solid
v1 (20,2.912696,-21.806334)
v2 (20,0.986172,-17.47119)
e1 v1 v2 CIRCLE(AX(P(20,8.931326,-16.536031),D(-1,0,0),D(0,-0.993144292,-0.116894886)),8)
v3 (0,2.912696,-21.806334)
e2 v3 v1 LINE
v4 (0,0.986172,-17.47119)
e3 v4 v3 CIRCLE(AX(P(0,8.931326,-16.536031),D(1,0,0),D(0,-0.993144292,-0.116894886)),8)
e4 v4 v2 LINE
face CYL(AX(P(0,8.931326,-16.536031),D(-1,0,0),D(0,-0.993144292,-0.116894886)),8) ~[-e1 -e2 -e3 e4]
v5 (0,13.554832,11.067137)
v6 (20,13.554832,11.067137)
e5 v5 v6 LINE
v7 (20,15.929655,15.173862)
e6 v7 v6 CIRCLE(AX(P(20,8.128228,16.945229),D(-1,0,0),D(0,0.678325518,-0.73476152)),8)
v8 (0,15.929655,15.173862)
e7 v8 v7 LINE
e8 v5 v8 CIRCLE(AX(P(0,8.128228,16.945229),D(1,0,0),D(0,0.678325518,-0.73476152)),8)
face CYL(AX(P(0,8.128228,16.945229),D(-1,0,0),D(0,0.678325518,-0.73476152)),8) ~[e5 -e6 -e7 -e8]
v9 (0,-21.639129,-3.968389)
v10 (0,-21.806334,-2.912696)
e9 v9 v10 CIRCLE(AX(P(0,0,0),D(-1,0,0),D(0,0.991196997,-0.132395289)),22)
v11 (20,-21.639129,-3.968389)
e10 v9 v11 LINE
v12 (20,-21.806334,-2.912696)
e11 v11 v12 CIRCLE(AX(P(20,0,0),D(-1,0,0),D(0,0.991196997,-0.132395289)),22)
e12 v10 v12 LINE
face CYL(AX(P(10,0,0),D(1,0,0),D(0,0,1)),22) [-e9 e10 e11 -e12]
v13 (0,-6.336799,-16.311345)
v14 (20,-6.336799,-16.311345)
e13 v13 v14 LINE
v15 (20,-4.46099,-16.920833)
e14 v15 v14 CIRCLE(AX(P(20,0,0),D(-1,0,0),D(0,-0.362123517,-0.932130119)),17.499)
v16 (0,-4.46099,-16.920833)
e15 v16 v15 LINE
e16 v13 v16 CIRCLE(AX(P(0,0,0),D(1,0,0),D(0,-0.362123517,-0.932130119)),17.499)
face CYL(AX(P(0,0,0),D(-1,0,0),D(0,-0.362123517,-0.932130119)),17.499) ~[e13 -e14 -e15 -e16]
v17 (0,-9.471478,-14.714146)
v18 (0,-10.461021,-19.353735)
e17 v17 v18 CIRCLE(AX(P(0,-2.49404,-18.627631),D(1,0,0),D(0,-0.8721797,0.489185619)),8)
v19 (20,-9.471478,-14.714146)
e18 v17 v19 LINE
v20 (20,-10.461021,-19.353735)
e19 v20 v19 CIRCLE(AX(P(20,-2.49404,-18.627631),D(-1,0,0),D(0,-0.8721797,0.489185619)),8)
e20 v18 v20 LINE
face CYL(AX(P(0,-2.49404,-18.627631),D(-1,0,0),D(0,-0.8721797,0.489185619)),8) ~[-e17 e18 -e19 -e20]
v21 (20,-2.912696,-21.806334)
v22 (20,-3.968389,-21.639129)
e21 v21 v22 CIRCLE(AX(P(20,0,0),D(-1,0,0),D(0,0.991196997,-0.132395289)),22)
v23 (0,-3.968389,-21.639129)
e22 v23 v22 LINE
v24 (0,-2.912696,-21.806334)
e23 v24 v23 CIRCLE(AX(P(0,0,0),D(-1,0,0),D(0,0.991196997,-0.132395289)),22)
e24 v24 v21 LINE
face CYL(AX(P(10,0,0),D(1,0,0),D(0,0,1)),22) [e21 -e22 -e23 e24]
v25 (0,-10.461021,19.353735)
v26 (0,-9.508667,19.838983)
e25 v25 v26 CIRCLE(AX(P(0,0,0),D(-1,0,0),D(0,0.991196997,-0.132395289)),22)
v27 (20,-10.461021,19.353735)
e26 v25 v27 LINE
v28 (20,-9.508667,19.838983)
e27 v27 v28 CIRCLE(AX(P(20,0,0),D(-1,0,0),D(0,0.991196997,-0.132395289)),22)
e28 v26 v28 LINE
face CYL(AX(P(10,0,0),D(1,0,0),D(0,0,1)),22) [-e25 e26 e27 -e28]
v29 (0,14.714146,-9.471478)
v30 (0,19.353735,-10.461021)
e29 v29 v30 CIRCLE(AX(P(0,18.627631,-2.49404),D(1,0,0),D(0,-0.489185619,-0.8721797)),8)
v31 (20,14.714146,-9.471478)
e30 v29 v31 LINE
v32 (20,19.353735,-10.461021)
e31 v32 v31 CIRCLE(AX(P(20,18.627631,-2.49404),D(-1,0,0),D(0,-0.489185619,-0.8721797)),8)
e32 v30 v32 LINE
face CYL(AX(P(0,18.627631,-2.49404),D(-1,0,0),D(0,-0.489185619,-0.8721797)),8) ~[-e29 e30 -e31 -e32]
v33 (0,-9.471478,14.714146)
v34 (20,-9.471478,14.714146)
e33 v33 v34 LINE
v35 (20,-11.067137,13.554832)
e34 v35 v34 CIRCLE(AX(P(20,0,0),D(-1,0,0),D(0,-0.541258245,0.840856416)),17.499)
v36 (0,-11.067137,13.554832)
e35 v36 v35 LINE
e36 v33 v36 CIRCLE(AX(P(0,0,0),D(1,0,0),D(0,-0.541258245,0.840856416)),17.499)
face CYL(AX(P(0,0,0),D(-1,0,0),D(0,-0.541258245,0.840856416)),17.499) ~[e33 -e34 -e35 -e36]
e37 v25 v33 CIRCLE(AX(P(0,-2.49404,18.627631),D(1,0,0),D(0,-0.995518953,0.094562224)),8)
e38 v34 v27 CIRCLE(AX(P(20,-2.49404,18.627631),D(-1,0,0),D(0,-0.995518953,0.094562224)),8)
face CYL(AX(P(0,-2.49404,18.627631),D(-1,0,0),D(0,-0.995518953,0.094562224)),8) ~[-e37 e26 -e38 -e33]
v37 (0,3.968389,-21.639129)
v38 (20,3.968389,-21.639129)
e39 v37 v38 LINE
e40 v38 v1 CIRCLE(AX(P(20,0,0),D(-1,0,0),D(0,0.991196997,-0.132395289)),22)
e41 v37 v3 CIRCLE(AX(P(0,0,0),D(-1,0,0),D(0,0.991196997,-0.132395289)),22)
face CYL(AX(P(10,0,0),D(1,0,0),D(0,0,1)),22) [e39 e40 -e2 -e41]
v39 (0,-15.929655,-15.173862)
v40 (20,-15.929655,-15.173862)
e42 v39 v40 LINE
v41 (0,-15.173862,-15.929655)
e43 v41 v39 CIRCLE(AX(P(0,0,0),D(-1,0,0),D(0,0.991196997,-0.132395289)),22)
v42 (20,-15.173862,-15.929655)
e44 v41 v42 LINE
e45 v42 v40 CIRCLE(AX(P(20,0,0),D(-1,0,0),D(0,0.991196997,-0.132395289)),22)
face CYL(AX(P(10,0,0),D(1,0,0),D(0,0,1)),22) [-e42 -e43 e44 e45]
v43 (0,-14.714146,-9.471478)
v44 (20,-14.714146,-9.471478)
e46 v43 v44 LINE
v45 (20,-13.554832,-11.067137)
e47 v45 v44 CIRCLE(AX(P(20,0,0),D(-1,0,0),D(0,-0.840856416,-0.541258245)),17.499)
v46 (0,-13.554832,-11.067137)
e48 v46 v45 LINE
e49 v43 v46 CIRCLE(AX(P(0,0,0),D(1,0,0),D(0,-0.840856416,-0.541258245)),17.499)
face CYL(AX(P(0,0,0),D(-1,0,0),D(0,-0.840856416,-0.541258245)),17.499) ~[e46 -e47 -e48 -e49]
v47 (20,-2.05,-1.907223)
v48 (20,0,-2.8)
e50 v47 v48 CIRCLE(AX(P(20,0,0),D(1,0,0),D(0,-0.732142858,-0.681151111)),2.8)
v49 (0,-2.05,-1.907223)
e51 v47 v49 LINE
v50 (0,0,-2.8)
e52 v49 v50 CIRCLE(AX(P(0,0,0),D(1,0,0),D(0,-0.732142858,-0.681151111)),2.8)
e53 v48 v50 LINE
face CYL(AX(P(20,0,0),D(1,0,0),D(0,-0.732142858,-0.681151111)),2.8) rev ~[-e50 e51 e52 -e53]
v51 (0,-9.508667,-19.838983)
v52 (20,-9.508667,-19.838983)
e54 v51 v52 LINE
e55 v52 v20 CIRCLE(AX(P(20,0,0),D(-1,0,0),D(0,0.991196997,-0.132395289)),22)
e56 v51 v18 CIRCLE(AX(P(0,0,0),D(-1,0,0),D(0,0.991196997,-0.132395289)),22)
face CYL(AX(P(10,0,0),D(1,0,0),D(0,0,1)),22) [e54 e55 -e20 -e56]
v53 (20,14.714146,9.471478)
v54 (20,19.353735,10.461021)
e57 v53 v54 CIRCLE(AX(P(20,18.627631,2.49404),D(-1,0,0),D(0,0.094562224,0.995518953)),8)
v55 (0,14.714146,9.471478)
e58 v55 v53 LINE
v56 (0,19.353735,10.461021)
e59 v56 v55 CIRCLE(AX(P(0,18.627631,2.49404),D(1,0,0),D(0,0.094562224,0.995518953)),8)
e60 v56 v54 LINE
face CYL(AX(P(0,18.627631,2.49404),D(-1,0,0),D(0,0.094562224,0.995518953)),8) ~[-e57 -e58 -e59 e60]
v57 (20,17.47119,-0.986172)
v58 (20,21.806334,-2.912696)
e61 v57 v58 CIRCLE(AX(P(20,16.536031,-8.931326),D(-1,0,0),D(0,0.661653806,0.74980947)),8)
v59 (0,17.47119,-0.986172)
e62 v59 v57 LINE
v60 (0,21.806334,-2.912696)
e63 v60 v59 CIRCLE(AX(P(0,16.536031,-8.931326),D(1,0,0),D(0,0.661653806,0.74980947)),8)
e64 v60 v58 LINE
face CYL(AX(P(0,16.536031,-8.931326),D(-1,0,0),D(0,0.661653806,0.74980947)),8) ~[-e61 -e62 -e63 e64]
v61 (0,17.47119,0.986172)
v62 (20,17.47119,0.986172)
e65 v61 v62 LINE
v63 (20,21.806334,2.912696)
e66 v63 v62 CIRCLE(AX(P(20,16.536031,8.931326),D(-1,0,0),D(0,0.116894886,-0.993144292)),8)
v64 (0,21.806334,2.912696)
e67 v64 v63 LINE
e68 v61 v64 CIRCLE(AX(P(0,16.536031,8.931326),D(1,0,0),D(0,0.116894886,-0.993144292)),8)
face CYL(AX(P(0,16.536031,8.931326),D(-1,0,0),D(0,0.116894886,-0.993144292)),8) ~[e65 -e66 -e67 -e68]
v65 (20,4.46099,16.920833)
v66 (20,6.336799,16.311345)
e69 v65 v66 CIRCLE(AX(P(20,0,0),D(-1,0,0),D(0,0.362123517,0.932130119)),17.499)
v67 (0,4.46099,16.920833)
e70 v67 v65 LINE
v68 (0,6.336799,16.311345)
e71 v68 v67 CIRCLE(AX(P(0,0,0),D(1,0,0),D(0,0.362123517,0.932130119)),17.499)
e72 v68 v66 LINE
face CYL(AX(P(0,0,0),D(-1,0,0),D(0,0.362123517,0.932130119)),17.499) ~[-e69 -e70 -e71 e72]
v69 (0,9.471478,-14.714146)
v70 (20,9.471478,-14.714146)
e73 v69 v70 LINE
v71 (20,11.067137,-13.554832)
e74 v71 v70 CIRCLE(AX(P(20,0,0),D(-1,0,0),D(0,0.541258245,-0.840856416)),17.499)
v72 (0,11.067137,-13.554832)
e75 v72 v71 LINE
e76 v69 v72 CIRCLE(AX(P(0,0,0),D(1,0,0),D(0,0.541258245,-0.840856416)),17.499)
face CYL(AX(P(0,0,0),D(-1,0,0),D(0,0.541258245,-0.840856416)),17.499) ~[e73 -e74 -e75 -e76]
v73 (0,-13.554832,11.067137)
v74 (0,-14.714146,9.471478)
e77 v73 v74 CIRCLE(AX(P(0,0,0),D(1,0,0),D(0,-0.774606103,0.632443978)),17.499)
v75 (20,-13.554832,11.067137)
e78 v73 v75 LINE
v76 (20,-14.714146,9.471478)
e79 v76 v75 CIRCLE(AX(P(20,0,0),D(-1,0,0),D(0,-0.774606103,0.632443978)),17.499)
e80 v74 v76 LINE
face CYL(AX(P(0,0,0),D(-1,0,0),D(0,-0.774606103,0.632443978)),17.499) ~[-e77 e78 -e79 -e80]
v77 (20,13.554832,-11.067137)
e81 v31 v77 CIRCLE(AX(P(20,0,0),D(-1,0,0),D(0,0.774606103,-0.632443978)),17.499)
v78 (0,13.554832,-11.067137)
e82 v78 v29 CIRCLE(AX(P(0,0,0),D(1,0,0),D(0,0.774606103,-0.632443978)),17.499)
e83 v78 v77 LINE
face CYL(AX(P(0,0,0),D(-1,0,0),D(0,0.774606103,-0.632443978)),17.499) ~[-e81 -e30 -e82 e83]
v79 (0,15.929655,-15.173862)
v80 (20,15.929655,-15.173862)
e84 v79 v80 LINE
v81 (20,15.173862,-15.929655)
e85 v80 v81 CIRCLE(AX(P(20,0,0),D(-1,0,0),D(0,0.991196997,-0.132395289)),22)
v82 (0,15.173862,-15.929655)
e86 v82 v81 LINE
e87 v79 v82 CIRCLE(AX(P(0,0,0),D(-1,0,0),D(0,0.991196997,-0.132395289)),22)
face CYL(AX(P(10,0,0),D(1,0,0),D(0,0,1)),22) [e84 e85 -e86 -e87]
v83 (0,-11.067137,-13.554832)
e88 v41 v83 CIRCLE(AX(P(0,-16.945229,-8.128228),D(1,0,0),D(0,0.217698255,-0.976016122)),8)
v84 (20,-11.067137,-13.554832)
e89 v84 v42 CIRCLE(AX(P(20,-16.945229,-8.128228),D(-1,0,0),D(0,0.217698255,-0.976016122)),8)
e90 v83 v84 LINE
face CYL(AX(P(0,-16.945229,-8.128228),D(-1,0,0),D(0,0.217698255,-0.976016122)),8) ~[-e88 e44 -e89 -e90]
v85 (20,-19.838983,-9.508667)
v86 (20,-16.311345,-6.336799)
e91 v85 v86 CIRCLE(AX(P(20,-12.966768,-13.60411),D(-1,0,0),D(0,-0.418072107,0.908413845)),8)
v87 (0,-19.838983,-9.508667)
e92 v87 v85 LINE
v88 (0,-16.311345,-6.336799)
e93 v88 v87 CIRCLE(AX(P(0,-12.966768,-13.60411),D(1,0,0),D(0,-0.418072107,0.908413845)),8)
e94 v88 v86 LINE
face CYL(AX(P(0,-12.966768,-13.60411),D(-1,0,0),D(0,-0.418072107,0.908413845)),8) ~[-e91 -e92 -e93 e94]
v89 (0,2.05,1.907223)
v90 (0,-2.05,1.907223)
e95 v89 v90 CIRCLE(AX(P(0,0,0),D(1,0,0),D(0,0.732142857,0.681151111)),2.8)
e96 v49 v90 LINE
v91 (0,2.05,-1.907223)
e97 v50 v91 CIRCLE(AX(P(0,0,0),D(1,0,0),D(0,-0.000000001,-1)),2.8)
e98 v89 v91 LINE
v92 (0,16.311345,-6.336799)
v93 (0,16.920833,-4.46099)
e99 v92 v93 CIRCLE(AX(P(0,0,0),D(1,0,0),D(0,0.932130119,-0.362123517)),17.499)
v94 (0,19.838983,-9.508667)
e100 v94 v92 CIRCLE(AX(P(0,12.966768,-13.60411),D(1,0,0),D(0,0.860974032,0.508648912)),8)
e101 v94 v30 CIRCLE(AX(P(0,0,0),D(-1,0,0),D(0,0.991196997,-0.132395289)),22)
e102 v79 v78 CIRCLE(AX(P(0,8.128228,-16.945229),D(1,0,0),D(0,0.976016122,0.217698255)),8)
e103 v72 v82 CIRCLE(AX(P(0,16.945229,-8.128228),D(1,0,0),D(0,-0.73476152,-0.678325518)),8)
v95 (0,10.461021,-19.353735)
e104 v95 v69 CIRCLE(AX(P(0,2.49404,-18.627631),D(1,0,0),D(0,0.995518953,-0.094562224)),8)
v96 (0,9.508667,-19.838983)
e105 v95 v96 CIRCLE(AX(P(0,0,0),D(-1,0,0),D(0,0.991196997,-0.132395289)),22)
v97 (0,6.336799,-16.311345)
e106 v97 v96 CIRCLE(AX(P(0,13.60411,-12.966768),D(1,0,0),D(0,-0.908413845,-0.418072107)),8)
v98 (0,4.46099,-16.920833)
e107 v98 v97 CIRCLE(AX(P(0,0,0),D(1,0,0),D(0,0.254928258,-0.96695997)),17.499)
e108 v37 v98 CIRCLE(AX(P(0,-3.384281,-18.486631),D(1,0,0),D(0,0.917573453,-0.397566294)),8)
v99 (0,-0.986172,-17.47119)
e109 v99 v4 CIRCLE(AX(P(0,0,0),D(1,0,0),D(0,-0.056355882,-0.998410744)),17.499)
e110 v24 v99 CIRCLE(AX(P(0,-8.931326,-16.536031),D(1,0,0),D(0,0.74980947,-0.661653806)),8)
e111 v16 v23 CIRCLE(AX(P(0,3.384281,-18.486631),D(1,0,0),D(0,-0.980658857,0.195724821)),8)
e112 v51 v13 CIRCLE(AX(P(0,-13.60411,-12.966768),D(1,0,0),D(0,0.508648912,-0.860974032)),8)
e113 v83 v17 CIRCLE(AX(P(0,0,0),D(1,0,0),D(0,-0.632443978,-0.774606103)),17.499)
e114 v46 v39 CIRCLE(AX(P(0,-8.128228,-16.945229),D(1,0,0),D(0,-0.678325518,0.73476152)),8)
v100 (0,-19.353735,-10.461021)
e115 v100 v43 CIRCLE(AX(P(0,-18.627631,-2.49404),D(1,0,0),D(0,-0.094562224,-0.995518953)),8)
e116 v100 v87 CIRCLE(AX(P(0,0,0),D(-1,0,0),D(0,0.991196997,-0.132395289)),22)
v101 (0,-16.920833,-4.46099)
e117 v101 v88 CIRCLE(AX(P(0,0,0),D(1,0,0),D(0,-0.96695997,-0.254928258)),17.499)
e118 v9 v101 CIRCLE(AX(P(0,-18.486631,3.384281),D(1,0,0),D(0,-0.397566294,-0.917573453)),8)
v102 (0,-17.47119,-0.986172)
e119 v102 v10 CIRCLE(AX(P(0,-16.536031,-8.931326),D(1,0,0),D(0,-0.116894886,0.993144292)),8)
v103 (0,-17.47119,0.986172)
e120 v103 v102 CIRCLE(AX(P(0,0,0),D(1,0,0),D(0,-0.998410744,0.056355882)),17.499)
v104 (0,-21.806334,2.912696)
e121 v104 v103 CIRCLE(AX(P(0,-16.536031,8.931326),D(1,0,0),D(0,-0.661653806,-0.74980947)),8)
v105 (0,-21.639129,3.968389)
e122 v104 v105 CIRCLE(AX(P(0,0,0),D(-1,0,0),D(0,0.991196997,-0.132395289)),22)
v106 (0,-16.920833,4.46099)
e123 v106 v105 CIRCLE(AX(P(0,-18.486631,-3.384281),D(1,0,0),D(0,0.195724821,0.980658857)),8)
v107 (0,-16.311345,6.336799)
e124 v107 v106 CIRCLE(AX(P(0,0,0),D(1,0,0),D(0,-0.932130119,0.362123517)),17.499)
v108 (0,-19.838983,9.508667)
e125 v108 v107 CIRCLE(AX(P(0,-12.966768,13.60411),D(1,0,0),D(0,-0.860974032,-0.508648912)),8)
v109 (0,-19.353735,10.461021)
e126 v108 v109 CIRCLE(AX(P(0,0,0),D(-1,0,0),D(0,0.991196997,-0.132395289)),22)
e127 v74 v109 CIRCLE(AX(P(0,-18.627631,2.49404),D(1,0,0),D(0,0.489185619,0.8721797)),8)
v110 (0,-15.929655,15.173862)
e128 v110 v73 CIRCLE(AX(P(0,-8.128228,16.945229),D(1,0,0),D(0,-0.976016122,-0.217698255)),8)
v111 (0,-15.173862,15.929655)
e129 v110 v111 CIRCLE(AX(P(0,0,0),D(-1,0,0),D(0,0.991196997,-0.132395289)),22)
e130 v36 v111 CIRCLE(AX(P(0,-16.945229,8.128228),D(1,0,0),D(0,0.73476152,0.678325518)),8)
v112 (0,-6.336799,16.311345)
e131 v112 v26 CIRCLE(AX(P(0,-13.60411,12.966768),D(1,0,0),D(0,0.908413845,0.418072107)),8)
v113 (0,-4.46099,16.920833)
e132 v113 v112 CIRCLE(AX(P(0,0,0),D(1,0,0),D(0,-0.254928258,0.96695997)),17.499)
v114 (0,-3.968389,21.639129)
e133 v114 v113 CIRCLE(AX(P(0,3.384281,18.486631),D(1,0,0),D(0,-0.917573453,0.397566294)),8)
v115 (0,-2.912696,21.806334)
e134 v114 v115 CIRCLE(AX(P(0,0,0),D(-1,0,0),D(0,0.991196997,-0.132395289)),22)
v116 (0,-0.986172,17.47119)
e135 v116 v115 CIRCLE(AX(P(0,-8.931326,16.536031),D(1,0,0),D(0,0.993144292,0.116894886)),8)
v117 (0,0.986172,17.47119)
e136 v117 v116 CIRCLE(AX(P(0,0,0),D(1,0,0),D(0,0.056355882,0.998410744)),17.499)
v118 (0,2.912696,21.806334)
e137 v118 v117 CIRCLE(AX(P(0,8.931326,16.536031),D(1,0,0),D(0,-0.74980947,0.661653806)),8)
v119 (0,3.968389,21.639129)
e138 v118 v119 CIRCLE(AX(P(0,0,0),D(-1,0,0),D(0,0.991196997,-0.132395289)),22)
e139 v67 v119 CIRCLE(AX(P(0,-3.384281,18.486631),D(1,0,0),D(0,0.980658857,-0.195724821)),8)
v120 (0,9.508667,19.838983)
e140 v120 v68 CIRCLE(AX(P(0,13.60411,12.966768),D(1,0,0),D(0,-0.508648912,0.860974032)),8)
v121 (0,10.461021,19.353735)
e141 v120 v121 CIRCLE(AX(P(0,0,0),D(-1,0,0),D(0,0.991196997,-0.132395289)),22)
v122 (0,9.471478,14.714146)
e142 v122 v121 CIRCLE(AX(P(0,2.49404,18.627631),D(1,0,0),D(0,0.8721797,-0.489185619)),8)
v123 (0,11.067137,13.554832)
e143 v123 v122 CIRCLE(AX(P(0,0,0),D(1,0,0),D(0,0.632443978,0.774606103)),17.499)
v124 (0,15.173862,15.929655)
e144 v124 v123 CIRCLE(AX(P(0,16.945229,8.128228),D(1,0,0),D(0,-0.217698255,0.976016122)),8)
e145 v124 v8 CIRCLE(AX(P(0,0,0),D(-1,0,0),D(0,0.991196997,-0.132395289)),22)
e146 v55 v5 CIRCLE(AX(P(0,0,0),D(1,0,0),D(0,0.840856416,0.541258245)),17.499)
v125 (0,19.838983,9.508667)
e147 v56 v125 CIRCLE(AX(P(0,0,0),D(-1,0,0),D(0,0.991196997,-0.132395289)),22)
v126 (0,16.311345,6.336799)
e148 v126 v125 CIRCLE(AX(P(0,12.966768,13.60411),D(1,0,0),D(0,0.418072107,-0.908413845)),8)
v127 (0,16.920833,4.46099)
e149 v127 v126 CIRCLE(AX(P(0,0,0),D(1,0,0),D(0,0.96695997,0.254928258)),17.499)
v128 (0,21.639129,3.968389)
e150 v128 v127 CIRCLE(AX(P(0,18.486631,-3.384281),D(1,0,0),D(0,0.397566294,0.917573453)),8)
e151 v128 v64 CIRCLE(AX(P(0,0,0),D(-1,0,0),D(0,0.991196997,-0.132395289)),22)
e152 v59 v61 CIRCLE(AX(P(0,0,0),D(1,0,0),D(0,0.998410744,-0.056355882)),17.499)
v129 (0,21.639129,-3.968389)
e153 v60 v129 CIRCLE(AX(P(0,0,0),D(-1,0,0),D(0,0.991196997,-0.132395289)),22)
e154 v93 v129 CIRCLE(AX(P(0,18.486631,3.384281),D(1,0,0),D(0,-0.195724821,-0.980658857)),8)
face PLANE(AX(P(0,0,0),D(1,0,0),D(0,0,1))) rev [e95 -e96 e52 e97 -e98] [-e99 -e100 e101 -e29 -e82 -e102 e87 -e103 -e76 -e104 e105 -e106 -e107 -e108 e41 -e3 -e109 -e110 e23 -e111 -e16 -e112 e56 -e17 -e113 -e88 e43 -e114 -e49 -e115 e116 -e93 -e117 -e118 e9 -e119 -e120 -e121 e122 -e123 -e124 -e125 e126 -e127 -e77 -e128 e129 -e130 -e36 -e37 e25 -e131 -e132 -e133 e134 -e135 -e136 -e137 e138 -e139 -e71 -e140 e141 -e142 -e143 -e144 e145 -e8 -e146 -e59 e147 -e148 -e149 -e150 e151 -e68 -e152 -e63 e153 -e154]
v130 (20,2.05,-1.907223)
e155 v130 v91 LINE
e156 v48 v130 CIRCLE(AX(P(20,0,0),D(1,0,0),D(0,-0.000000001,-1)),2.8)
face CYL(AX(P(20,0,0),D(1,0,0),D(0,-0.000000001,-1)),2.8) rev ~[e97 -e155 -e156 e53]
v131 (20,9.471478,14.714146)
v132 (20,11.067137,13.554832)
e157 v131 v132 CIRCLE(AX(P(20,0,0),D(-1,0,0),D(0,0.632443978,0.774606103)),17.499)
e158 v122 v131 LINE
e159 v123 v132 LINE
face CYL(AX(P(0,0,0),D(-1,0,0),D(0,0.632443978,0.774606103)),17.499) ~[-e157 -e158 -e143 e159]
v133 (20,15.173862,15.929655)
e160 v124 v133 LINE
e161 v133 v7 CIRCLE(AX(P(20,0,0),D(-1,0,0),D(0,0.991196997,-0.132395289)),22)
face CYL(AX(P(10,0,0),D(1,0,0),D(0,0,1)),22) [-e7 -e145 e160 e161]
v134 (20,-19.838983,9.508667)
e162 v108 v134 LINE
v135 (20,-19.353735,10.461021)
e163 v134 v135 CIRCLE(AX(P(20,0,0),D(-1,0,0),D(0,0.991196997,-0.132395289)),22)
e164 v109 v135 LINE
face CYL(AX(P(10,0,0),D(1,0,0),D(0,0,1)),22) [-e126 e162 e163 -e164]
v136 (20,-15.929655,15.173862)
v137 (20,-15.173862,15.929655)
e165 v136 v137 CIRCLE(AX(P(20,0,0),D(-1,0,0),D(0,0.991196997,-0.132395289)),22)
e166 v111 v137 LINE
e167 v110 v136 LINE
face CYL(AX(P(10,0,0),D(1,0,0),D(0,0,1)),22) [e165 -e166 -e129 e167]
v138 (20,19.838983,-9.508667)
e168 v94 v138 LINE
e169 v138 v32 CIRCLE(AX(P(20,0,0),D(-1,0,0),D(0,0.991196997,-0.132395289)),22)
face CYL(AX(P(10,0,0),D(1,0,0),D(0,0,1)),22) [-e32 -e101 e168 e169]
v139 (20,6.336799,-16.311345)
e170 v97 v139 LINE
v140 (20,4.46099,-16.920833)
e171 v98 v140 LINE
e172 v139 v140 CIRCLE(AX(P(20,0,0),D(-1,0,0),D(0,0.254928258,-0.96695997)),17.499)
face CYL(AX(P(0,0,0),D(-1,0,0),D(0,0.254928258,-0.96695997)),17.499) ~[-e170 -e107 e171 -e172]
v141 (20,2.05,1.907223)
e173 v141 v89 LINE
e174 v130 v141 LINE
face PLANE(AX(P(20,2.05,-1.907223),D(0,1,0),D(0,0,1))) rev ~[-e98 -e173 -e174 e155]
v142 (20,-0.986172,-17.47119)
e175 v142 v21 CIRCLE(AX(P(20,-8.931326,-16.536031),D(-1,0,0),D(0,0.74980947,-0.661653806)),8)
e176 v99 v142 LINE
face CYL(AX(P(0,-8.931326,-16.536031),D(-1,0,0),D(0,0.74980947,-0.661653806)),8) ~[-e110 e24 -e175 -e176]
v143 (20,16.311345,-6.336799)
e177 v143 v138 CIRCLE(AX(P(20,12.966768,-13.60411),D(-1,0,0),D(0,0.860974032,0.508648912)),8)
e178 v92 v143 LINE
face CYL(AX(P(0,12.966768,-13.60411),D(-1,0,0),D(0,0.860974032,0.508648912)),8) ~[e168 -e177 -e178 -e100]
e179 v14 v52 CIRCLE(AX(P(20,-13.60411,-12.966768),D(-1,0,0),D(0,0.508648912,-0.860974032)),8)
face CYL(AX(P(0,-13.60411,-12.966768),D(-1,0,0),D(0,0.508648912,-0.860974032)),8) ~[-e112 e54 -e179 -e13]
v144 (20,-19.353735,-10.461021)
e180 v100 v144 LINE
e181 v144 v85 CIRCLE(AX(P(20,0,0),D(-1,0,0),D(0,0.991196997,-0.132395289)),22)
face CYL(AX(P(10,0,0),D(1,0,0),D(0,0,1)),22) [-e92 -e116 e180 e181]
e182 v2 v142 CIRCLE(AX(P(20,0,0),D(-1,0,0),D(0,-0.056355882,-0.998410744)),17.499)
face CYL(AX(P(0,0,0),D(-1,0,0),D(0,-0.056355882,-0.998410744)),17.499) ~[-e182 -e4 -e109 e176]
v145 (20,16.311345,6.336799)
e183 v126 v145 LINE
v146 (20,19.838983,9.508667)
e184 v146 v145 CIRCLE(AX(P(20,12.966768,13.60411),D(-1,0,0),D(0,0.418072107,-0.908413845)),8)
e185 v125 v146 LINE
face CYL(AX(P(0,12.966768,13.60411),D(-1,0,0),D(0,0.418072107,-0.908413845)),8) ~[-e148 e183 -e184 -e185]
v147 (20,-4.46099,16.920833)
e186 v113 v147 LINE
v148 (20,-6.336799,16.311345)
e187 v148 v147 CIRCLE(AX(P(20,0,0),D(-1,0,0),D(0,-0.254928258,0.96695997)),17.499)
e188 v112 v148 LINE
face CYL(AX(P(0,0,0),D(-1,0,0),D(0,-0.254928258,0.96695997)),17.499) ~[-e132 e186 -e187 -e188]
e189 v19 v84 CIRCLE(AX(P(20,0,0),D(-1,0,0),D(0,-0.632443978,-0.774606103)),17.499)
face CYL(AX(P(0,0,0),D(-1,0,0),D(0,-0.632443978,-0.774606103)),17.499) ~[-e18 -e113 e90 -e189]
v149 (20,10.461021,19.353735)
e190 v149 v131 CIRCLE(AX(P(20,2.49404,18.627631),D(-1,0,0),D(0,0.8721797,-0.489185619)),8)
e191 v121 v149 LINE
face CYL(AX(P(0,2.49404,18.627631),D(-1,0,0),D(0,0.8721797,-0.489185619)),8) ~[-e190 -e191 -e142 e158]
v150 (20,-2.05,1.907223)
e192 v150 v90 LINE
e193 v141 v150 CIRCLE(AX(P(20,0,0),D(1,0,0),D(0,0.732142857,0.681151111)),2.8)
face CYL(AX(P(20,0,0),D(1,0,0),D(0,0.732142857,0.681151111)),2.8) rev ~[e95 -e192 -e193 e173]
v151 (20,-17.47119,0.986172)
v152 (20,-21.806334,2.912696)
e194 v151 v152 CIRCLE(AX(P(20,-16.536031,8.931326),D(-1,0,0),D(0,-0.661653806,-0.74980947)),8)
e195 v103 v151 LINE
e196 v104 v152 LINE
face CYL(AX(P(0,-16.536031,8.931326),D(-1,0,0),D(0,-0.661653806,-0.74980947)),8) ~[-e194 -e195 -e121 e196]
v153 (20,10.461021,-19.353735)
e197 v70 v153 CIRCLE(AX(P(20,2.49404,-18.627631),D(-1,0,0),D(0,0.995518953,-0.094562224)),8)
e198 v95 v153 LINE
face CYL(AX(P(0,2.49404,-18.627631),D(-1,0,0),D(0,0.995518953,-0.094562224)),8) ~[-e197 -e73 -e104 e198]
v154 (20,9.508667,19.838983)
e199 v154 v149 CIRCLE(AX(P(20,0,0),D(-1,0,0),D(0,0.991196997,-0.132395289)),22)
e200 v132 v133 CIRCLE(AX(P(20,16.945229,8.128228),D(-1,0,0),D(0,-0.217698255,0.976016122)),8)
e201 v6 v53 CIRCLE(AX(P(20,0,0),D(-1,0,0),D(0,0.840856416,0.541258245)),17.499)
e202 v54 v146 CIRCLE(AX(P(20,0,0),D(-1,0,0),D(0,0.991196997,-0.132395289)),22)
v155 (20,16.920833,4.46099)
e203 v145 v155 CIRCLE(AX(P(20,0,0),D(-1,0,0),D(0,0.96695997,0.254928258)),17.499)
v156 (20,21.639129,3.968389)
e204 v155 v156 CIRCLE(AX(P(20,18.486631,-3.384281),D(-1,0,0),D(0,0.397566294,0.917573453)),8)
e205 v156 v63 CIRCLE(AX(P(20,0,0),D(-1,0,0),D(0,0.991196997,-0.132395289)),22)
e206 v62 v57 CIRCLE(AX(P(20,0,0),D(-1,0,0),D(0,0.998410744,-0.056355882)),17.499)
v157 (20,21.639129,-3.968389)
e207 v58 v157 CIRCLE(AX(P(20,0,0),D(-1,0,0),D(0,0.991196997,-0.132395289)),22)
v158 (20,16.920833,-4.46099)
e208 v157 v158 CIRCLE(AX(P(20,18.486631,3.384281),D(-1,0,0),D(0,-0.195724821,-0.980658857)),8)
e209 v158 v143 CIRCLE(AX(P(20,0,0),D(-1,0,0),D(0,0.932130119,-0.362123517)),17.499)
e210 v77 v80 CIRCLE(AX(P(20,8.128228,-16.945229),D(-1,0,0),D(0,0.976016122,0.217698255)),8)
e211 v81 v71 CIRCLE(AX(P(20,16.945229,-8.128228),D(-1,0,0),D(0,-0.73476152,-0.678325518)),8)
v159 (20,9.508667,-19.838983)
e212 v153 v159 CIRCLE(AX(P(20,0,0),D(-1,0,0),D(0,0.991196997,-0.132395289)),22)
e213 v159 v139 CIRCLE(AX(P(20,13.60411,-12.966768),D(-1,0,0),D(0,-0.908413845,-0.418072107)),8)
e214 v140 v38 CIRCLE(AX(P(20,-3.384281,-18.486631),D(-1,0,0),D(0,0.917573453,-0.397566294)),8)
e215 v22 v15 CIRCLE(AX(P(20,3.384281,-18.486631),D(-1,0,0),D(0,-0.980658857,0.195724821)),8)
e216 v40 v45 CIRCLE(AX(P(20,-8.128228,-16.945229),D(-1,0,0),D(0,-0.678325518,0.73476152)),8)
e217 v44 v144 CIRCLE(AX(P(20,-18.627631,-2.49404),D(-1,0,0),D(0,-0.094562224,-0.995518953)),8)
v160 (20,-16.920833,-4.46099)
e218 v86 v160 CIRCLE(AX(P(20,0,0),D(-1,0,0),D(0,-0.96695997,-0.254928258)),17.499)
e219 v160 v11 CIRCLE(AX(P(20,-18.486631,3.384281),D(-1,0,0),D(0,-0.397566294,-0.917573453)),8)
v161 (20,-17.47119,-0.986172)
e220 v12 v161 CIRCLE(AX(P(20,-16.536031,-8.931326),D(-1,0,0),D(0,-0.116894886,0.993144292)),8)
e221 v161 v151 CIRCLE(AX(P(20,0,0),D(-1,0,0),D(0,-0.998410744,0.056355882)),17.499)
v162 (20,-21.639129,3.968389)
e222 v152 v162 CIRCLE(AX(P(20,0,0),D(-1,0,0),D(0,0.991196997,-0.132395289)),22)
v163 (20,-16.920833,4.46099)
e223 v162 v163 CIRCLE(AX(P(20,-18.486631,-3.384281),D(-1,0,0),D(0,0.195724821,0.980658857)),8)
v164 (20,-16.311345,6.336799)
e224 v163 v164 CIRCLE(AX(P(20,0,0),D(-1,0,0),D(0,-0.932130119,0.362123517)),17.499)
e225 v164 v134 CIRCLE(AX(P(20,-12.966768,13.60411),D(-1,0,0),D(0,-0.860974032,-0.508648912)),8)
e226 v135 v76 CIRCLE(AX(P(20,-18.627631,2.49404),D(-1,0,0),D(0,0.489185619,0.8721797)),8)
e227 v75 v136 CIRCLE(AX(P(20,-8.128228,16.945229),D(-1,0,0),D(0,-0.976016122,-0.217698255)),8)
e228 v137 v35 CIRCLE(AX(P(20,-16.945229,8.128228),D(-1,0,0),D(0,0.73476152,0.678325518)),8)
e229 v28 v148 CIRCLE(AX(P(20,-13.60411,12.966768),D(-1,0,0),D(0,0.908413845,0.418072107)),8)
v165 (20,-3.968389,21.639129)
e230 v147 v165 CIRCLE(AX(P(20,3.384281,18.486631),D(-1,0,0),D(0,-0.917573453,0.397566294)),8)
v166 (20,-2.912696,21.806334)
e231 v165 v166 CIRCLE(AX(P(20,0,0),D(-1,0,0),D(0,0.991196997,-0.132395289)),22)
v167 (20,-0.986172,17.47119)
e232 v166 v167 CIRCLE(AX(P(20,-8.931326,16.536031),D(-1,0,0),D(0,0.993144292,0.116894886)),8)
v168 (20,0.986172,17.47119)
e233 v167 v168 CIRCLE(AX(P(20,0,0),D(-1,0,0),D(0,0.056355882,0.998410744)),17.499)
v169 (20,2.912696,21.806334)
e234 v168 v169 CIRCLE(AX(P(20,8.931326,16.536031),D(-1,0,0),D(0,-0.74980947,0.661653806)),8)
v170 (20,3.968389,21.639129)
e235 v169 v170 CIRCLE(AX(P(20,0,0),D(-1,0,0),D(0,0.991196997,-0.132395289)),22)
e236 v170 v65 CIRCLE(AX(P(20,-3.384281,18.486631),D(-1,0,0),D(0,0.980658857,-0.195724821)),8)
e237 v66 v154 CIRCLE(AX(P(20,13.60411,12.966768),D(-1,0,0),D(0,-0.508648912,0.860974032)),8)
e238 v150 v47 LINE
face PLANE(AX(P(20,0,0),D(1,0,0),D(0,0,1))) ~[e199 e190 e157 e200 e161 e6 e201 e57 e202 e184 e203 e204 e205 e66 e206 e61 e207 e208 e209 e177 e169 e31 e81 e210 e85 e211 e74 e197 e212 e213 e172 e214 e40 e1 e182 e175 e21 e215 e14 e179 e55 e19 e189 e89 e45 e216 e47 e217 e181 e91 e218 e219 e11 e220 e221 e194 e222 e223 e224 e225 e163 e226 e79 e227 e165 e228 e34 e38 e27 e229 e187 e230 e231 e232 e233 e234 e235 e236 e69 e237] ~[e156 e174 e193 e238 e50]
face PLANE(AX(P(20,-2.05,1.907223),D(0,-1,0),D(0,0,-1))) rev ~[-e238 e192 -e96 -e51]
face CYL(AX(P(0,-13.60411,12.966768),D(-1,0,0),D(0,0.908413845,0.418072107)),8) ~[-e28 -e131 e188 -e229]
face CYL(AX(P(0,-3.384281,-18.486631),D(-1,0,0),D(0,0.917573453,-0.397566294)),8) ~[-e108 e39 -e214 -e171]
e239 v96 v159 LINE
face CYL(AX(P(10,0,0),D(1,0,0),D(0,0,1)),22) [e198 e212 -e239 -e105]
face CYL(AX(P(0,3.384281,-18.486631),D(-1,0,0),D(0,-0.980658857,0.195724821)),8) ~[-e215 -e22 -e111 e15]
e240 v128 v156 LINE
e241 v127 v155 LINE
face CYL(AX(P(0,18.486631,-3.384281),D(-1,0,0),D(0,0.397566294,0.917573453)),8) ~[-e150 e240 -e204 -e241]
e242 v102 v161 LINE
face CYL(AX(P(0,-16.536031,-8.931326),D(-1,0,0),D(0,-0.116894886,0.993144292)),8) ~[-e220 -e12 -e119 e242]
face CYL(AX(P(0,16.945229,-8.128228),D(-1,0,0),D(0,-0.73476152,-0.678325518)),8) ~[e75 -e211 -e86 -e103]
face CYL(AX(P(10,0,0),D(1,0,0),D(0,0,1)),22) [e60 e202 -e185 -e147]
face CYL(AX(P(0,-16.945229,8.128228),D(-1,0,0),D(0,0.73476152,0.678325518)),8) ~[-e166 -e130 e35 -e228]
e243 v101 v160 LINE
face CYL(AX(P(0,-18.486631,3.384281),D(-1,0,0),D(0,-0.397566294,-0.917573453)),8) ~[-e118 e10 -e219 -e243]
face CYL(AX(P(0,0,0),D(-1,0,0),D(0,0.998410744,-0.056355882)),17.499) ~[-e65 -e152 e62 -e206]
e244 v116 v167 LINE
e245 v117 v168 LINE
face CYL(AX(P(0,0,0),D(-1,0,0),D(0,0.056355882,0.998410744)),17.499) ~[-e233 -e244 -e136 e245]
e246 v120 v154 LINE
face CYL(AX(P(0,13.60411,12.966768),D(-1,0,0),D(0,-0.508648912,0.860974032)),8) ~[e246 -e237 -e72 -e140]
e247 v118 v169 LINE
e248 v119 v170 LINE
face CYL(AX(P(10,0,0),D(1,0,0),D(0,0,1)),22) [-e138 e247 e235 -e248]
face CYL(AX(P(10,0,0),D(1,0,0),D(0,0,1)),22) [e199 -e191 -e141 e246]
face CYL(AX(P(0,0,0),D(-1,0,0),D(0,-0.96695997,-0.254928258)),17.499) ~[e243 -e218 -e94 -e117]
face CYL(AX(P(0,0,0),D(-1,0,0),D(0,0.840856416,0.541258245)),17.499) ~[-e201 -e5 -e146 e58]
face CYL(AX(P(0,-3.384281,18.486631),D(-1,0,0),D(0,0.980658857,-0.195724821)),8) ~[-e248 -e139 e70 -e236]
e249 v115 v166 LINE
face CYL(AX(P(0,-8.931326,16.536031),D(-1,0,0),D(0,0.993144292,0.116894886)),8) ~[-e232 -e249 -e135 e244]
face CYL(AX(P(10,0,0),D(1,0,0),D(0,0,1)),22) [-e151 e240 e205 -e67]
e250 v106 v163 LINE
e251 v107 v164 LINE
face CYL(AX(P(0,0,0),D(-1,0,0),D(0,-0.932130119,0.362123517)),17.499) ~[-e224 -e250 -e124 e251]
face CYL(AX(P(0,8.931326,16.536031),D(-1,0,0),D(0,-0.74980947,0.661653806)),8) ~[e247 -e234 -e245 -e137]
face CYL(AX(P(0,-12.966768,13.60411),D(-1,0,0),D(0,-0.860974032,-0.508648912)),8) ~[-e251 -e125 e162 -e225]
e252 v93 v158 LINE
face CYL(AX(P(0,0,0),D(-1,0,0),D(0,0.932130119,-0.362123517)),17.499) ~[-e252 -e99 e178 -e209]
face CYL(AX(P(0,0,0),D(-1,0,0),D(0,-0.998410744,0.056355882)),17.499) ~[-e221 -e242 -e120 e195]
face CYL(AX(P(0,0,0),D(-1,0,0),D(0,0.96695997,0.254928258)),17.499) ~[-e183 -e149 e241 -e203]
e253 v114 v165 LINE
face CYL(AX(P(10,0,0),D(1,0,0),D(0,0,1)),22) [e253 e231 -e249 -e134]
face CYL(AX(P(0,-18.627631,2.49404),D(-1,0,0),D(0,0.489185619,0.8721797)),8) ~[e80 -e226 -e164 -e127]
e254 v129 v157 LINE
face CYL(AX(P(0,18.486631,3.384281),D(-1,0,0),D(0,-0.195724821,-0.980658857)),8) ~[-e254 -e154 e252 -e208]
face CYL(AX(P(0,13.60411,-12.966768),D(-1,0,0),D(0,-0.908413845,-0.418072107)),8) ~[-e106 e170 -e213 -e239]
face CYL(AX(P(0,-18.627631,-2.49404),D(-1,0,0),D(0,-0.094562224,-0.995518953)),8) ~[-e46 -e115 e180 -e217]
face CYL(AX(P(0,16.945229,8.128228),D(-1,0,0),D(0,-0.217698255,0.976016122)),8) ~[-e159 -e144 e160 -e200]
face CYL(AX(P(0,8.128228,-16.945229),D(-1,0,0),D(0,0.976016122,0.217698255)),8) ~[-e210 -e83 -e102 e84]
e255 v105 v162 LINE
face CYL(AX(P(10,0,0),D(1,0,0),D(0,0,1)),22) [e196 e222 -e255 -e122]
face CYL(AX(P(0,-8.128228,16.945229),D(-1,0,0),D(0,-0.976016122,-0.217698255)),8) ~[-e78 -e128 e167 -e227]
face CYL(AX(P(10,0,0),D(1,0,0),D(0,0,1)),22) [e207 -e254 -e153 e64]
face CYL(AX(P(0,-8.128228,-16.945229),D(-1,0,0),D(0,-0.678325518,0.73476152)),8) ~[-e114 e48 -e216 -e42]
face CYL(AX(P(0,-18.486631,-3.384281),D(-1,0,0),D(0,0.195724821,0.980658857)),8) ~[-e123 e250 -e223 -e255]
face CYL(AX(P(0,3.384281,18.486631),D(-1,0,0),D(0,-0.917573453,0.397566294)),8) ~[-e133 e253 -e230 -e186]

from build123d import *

# Parameters (mm, degrees)
BASPROSKE_W        = 20
BASPROSKE_H        = 22
TOOTHCUT_DEPTH     = 37.986484018
TEETHCUTS_COUNT    = 20
TEETHCUTS_ANGLE    = 342
CUT_EXTRUDE1_DEPTH = 37.75639264


with BuildPart() as part:
    # BasProSke → Base-Revolve (revolve)
    with BuildSketch(Plane(origin=(0, 0, 0), x_dir=(1, 0, 0), z_dir=(0, 1, 0)), mode=Mode.PRIVATE) as base_revolve_sk:
        with Locations((10, 11)):
            Rectangle(BASPROSKE_W, BASPROSKE_H)
    revolve(base_revolve_sk.sketch.rotate(Axis((-10, 0, 0), (1, 0, 0)), 180), axis=Axis((-10, 0, 0), (1, 0, 0)))

    # TooCutSke → ToothCut (cut, through all)
    with BuildSketch(Plane(origin=(0, 0, 0), x_dir=(0, 0, -1), z_dir=(1, 0, 0))):
        with BuildLine():
            ThreePointArc((0.986171591, 17.471189616), (0, 17.499), (-0.986171591, 17.471189616))
            ThreePointArc((-0.986171591, 17.471189616), (-1.626916196, 19.798789858), (-2.932850173, 21.829260982))
            ThreePointArc((-2.932850173, 21.829260982), (0, 22.0254), (2.932850173, 21.829260982))
            ThreePointArc((2.932850173, 21.829260982), (1.626916196, 19.798789858), (0.986171591, 17.471189616))
        make_face()
    toothcut = extrude(amount=TOOTHCUT_DEPTH, mode=Mode.SUBTRACT)

    # TeethCuts: ToothCut ×20 about axis
    teethcuts_axis = Axis((-10, 0, 0), (1, 0, 0))
    for i in range(1, TEETHCUTS_COUNT):
        add(toothcut.rotate(teethcuts_axis, i * TEETHCUTS_ANGLE / (TEETHCUTS_COUNT - 1)), mode=Mode.SUBTRACT)

    # Sketch1 → Cut-Extrude1 (cut, through all)
    with BuildSketch(Plane(origin=(20, 0, 0), x_dir=(0, 0, -1), z_dir=(1, 0, 0))):
        with BuildLine():
            Line((1.907223112, 2.05), (-1.907223112, 2.05))
            ThreePointArc((-1.907223112, 2.05), (-2.8, 0), (-1.907223112, -2.05))
            Line((-1.907223112, -2.05), (1.907223112, -2.05))
            ThreePointArc((1.907223112, -2.05), (2.567121415, -1.11798374), (2.8, 0))
            ThreePointArc((2.8, 0), (2.567121415, 1.11798374), (1.907223112, 2.05))
        make_face()
    extrude(amount=-CUT_EXTRUDE1_DEPTH, mode=Mode.SUBTRACT)


solid = part.part
